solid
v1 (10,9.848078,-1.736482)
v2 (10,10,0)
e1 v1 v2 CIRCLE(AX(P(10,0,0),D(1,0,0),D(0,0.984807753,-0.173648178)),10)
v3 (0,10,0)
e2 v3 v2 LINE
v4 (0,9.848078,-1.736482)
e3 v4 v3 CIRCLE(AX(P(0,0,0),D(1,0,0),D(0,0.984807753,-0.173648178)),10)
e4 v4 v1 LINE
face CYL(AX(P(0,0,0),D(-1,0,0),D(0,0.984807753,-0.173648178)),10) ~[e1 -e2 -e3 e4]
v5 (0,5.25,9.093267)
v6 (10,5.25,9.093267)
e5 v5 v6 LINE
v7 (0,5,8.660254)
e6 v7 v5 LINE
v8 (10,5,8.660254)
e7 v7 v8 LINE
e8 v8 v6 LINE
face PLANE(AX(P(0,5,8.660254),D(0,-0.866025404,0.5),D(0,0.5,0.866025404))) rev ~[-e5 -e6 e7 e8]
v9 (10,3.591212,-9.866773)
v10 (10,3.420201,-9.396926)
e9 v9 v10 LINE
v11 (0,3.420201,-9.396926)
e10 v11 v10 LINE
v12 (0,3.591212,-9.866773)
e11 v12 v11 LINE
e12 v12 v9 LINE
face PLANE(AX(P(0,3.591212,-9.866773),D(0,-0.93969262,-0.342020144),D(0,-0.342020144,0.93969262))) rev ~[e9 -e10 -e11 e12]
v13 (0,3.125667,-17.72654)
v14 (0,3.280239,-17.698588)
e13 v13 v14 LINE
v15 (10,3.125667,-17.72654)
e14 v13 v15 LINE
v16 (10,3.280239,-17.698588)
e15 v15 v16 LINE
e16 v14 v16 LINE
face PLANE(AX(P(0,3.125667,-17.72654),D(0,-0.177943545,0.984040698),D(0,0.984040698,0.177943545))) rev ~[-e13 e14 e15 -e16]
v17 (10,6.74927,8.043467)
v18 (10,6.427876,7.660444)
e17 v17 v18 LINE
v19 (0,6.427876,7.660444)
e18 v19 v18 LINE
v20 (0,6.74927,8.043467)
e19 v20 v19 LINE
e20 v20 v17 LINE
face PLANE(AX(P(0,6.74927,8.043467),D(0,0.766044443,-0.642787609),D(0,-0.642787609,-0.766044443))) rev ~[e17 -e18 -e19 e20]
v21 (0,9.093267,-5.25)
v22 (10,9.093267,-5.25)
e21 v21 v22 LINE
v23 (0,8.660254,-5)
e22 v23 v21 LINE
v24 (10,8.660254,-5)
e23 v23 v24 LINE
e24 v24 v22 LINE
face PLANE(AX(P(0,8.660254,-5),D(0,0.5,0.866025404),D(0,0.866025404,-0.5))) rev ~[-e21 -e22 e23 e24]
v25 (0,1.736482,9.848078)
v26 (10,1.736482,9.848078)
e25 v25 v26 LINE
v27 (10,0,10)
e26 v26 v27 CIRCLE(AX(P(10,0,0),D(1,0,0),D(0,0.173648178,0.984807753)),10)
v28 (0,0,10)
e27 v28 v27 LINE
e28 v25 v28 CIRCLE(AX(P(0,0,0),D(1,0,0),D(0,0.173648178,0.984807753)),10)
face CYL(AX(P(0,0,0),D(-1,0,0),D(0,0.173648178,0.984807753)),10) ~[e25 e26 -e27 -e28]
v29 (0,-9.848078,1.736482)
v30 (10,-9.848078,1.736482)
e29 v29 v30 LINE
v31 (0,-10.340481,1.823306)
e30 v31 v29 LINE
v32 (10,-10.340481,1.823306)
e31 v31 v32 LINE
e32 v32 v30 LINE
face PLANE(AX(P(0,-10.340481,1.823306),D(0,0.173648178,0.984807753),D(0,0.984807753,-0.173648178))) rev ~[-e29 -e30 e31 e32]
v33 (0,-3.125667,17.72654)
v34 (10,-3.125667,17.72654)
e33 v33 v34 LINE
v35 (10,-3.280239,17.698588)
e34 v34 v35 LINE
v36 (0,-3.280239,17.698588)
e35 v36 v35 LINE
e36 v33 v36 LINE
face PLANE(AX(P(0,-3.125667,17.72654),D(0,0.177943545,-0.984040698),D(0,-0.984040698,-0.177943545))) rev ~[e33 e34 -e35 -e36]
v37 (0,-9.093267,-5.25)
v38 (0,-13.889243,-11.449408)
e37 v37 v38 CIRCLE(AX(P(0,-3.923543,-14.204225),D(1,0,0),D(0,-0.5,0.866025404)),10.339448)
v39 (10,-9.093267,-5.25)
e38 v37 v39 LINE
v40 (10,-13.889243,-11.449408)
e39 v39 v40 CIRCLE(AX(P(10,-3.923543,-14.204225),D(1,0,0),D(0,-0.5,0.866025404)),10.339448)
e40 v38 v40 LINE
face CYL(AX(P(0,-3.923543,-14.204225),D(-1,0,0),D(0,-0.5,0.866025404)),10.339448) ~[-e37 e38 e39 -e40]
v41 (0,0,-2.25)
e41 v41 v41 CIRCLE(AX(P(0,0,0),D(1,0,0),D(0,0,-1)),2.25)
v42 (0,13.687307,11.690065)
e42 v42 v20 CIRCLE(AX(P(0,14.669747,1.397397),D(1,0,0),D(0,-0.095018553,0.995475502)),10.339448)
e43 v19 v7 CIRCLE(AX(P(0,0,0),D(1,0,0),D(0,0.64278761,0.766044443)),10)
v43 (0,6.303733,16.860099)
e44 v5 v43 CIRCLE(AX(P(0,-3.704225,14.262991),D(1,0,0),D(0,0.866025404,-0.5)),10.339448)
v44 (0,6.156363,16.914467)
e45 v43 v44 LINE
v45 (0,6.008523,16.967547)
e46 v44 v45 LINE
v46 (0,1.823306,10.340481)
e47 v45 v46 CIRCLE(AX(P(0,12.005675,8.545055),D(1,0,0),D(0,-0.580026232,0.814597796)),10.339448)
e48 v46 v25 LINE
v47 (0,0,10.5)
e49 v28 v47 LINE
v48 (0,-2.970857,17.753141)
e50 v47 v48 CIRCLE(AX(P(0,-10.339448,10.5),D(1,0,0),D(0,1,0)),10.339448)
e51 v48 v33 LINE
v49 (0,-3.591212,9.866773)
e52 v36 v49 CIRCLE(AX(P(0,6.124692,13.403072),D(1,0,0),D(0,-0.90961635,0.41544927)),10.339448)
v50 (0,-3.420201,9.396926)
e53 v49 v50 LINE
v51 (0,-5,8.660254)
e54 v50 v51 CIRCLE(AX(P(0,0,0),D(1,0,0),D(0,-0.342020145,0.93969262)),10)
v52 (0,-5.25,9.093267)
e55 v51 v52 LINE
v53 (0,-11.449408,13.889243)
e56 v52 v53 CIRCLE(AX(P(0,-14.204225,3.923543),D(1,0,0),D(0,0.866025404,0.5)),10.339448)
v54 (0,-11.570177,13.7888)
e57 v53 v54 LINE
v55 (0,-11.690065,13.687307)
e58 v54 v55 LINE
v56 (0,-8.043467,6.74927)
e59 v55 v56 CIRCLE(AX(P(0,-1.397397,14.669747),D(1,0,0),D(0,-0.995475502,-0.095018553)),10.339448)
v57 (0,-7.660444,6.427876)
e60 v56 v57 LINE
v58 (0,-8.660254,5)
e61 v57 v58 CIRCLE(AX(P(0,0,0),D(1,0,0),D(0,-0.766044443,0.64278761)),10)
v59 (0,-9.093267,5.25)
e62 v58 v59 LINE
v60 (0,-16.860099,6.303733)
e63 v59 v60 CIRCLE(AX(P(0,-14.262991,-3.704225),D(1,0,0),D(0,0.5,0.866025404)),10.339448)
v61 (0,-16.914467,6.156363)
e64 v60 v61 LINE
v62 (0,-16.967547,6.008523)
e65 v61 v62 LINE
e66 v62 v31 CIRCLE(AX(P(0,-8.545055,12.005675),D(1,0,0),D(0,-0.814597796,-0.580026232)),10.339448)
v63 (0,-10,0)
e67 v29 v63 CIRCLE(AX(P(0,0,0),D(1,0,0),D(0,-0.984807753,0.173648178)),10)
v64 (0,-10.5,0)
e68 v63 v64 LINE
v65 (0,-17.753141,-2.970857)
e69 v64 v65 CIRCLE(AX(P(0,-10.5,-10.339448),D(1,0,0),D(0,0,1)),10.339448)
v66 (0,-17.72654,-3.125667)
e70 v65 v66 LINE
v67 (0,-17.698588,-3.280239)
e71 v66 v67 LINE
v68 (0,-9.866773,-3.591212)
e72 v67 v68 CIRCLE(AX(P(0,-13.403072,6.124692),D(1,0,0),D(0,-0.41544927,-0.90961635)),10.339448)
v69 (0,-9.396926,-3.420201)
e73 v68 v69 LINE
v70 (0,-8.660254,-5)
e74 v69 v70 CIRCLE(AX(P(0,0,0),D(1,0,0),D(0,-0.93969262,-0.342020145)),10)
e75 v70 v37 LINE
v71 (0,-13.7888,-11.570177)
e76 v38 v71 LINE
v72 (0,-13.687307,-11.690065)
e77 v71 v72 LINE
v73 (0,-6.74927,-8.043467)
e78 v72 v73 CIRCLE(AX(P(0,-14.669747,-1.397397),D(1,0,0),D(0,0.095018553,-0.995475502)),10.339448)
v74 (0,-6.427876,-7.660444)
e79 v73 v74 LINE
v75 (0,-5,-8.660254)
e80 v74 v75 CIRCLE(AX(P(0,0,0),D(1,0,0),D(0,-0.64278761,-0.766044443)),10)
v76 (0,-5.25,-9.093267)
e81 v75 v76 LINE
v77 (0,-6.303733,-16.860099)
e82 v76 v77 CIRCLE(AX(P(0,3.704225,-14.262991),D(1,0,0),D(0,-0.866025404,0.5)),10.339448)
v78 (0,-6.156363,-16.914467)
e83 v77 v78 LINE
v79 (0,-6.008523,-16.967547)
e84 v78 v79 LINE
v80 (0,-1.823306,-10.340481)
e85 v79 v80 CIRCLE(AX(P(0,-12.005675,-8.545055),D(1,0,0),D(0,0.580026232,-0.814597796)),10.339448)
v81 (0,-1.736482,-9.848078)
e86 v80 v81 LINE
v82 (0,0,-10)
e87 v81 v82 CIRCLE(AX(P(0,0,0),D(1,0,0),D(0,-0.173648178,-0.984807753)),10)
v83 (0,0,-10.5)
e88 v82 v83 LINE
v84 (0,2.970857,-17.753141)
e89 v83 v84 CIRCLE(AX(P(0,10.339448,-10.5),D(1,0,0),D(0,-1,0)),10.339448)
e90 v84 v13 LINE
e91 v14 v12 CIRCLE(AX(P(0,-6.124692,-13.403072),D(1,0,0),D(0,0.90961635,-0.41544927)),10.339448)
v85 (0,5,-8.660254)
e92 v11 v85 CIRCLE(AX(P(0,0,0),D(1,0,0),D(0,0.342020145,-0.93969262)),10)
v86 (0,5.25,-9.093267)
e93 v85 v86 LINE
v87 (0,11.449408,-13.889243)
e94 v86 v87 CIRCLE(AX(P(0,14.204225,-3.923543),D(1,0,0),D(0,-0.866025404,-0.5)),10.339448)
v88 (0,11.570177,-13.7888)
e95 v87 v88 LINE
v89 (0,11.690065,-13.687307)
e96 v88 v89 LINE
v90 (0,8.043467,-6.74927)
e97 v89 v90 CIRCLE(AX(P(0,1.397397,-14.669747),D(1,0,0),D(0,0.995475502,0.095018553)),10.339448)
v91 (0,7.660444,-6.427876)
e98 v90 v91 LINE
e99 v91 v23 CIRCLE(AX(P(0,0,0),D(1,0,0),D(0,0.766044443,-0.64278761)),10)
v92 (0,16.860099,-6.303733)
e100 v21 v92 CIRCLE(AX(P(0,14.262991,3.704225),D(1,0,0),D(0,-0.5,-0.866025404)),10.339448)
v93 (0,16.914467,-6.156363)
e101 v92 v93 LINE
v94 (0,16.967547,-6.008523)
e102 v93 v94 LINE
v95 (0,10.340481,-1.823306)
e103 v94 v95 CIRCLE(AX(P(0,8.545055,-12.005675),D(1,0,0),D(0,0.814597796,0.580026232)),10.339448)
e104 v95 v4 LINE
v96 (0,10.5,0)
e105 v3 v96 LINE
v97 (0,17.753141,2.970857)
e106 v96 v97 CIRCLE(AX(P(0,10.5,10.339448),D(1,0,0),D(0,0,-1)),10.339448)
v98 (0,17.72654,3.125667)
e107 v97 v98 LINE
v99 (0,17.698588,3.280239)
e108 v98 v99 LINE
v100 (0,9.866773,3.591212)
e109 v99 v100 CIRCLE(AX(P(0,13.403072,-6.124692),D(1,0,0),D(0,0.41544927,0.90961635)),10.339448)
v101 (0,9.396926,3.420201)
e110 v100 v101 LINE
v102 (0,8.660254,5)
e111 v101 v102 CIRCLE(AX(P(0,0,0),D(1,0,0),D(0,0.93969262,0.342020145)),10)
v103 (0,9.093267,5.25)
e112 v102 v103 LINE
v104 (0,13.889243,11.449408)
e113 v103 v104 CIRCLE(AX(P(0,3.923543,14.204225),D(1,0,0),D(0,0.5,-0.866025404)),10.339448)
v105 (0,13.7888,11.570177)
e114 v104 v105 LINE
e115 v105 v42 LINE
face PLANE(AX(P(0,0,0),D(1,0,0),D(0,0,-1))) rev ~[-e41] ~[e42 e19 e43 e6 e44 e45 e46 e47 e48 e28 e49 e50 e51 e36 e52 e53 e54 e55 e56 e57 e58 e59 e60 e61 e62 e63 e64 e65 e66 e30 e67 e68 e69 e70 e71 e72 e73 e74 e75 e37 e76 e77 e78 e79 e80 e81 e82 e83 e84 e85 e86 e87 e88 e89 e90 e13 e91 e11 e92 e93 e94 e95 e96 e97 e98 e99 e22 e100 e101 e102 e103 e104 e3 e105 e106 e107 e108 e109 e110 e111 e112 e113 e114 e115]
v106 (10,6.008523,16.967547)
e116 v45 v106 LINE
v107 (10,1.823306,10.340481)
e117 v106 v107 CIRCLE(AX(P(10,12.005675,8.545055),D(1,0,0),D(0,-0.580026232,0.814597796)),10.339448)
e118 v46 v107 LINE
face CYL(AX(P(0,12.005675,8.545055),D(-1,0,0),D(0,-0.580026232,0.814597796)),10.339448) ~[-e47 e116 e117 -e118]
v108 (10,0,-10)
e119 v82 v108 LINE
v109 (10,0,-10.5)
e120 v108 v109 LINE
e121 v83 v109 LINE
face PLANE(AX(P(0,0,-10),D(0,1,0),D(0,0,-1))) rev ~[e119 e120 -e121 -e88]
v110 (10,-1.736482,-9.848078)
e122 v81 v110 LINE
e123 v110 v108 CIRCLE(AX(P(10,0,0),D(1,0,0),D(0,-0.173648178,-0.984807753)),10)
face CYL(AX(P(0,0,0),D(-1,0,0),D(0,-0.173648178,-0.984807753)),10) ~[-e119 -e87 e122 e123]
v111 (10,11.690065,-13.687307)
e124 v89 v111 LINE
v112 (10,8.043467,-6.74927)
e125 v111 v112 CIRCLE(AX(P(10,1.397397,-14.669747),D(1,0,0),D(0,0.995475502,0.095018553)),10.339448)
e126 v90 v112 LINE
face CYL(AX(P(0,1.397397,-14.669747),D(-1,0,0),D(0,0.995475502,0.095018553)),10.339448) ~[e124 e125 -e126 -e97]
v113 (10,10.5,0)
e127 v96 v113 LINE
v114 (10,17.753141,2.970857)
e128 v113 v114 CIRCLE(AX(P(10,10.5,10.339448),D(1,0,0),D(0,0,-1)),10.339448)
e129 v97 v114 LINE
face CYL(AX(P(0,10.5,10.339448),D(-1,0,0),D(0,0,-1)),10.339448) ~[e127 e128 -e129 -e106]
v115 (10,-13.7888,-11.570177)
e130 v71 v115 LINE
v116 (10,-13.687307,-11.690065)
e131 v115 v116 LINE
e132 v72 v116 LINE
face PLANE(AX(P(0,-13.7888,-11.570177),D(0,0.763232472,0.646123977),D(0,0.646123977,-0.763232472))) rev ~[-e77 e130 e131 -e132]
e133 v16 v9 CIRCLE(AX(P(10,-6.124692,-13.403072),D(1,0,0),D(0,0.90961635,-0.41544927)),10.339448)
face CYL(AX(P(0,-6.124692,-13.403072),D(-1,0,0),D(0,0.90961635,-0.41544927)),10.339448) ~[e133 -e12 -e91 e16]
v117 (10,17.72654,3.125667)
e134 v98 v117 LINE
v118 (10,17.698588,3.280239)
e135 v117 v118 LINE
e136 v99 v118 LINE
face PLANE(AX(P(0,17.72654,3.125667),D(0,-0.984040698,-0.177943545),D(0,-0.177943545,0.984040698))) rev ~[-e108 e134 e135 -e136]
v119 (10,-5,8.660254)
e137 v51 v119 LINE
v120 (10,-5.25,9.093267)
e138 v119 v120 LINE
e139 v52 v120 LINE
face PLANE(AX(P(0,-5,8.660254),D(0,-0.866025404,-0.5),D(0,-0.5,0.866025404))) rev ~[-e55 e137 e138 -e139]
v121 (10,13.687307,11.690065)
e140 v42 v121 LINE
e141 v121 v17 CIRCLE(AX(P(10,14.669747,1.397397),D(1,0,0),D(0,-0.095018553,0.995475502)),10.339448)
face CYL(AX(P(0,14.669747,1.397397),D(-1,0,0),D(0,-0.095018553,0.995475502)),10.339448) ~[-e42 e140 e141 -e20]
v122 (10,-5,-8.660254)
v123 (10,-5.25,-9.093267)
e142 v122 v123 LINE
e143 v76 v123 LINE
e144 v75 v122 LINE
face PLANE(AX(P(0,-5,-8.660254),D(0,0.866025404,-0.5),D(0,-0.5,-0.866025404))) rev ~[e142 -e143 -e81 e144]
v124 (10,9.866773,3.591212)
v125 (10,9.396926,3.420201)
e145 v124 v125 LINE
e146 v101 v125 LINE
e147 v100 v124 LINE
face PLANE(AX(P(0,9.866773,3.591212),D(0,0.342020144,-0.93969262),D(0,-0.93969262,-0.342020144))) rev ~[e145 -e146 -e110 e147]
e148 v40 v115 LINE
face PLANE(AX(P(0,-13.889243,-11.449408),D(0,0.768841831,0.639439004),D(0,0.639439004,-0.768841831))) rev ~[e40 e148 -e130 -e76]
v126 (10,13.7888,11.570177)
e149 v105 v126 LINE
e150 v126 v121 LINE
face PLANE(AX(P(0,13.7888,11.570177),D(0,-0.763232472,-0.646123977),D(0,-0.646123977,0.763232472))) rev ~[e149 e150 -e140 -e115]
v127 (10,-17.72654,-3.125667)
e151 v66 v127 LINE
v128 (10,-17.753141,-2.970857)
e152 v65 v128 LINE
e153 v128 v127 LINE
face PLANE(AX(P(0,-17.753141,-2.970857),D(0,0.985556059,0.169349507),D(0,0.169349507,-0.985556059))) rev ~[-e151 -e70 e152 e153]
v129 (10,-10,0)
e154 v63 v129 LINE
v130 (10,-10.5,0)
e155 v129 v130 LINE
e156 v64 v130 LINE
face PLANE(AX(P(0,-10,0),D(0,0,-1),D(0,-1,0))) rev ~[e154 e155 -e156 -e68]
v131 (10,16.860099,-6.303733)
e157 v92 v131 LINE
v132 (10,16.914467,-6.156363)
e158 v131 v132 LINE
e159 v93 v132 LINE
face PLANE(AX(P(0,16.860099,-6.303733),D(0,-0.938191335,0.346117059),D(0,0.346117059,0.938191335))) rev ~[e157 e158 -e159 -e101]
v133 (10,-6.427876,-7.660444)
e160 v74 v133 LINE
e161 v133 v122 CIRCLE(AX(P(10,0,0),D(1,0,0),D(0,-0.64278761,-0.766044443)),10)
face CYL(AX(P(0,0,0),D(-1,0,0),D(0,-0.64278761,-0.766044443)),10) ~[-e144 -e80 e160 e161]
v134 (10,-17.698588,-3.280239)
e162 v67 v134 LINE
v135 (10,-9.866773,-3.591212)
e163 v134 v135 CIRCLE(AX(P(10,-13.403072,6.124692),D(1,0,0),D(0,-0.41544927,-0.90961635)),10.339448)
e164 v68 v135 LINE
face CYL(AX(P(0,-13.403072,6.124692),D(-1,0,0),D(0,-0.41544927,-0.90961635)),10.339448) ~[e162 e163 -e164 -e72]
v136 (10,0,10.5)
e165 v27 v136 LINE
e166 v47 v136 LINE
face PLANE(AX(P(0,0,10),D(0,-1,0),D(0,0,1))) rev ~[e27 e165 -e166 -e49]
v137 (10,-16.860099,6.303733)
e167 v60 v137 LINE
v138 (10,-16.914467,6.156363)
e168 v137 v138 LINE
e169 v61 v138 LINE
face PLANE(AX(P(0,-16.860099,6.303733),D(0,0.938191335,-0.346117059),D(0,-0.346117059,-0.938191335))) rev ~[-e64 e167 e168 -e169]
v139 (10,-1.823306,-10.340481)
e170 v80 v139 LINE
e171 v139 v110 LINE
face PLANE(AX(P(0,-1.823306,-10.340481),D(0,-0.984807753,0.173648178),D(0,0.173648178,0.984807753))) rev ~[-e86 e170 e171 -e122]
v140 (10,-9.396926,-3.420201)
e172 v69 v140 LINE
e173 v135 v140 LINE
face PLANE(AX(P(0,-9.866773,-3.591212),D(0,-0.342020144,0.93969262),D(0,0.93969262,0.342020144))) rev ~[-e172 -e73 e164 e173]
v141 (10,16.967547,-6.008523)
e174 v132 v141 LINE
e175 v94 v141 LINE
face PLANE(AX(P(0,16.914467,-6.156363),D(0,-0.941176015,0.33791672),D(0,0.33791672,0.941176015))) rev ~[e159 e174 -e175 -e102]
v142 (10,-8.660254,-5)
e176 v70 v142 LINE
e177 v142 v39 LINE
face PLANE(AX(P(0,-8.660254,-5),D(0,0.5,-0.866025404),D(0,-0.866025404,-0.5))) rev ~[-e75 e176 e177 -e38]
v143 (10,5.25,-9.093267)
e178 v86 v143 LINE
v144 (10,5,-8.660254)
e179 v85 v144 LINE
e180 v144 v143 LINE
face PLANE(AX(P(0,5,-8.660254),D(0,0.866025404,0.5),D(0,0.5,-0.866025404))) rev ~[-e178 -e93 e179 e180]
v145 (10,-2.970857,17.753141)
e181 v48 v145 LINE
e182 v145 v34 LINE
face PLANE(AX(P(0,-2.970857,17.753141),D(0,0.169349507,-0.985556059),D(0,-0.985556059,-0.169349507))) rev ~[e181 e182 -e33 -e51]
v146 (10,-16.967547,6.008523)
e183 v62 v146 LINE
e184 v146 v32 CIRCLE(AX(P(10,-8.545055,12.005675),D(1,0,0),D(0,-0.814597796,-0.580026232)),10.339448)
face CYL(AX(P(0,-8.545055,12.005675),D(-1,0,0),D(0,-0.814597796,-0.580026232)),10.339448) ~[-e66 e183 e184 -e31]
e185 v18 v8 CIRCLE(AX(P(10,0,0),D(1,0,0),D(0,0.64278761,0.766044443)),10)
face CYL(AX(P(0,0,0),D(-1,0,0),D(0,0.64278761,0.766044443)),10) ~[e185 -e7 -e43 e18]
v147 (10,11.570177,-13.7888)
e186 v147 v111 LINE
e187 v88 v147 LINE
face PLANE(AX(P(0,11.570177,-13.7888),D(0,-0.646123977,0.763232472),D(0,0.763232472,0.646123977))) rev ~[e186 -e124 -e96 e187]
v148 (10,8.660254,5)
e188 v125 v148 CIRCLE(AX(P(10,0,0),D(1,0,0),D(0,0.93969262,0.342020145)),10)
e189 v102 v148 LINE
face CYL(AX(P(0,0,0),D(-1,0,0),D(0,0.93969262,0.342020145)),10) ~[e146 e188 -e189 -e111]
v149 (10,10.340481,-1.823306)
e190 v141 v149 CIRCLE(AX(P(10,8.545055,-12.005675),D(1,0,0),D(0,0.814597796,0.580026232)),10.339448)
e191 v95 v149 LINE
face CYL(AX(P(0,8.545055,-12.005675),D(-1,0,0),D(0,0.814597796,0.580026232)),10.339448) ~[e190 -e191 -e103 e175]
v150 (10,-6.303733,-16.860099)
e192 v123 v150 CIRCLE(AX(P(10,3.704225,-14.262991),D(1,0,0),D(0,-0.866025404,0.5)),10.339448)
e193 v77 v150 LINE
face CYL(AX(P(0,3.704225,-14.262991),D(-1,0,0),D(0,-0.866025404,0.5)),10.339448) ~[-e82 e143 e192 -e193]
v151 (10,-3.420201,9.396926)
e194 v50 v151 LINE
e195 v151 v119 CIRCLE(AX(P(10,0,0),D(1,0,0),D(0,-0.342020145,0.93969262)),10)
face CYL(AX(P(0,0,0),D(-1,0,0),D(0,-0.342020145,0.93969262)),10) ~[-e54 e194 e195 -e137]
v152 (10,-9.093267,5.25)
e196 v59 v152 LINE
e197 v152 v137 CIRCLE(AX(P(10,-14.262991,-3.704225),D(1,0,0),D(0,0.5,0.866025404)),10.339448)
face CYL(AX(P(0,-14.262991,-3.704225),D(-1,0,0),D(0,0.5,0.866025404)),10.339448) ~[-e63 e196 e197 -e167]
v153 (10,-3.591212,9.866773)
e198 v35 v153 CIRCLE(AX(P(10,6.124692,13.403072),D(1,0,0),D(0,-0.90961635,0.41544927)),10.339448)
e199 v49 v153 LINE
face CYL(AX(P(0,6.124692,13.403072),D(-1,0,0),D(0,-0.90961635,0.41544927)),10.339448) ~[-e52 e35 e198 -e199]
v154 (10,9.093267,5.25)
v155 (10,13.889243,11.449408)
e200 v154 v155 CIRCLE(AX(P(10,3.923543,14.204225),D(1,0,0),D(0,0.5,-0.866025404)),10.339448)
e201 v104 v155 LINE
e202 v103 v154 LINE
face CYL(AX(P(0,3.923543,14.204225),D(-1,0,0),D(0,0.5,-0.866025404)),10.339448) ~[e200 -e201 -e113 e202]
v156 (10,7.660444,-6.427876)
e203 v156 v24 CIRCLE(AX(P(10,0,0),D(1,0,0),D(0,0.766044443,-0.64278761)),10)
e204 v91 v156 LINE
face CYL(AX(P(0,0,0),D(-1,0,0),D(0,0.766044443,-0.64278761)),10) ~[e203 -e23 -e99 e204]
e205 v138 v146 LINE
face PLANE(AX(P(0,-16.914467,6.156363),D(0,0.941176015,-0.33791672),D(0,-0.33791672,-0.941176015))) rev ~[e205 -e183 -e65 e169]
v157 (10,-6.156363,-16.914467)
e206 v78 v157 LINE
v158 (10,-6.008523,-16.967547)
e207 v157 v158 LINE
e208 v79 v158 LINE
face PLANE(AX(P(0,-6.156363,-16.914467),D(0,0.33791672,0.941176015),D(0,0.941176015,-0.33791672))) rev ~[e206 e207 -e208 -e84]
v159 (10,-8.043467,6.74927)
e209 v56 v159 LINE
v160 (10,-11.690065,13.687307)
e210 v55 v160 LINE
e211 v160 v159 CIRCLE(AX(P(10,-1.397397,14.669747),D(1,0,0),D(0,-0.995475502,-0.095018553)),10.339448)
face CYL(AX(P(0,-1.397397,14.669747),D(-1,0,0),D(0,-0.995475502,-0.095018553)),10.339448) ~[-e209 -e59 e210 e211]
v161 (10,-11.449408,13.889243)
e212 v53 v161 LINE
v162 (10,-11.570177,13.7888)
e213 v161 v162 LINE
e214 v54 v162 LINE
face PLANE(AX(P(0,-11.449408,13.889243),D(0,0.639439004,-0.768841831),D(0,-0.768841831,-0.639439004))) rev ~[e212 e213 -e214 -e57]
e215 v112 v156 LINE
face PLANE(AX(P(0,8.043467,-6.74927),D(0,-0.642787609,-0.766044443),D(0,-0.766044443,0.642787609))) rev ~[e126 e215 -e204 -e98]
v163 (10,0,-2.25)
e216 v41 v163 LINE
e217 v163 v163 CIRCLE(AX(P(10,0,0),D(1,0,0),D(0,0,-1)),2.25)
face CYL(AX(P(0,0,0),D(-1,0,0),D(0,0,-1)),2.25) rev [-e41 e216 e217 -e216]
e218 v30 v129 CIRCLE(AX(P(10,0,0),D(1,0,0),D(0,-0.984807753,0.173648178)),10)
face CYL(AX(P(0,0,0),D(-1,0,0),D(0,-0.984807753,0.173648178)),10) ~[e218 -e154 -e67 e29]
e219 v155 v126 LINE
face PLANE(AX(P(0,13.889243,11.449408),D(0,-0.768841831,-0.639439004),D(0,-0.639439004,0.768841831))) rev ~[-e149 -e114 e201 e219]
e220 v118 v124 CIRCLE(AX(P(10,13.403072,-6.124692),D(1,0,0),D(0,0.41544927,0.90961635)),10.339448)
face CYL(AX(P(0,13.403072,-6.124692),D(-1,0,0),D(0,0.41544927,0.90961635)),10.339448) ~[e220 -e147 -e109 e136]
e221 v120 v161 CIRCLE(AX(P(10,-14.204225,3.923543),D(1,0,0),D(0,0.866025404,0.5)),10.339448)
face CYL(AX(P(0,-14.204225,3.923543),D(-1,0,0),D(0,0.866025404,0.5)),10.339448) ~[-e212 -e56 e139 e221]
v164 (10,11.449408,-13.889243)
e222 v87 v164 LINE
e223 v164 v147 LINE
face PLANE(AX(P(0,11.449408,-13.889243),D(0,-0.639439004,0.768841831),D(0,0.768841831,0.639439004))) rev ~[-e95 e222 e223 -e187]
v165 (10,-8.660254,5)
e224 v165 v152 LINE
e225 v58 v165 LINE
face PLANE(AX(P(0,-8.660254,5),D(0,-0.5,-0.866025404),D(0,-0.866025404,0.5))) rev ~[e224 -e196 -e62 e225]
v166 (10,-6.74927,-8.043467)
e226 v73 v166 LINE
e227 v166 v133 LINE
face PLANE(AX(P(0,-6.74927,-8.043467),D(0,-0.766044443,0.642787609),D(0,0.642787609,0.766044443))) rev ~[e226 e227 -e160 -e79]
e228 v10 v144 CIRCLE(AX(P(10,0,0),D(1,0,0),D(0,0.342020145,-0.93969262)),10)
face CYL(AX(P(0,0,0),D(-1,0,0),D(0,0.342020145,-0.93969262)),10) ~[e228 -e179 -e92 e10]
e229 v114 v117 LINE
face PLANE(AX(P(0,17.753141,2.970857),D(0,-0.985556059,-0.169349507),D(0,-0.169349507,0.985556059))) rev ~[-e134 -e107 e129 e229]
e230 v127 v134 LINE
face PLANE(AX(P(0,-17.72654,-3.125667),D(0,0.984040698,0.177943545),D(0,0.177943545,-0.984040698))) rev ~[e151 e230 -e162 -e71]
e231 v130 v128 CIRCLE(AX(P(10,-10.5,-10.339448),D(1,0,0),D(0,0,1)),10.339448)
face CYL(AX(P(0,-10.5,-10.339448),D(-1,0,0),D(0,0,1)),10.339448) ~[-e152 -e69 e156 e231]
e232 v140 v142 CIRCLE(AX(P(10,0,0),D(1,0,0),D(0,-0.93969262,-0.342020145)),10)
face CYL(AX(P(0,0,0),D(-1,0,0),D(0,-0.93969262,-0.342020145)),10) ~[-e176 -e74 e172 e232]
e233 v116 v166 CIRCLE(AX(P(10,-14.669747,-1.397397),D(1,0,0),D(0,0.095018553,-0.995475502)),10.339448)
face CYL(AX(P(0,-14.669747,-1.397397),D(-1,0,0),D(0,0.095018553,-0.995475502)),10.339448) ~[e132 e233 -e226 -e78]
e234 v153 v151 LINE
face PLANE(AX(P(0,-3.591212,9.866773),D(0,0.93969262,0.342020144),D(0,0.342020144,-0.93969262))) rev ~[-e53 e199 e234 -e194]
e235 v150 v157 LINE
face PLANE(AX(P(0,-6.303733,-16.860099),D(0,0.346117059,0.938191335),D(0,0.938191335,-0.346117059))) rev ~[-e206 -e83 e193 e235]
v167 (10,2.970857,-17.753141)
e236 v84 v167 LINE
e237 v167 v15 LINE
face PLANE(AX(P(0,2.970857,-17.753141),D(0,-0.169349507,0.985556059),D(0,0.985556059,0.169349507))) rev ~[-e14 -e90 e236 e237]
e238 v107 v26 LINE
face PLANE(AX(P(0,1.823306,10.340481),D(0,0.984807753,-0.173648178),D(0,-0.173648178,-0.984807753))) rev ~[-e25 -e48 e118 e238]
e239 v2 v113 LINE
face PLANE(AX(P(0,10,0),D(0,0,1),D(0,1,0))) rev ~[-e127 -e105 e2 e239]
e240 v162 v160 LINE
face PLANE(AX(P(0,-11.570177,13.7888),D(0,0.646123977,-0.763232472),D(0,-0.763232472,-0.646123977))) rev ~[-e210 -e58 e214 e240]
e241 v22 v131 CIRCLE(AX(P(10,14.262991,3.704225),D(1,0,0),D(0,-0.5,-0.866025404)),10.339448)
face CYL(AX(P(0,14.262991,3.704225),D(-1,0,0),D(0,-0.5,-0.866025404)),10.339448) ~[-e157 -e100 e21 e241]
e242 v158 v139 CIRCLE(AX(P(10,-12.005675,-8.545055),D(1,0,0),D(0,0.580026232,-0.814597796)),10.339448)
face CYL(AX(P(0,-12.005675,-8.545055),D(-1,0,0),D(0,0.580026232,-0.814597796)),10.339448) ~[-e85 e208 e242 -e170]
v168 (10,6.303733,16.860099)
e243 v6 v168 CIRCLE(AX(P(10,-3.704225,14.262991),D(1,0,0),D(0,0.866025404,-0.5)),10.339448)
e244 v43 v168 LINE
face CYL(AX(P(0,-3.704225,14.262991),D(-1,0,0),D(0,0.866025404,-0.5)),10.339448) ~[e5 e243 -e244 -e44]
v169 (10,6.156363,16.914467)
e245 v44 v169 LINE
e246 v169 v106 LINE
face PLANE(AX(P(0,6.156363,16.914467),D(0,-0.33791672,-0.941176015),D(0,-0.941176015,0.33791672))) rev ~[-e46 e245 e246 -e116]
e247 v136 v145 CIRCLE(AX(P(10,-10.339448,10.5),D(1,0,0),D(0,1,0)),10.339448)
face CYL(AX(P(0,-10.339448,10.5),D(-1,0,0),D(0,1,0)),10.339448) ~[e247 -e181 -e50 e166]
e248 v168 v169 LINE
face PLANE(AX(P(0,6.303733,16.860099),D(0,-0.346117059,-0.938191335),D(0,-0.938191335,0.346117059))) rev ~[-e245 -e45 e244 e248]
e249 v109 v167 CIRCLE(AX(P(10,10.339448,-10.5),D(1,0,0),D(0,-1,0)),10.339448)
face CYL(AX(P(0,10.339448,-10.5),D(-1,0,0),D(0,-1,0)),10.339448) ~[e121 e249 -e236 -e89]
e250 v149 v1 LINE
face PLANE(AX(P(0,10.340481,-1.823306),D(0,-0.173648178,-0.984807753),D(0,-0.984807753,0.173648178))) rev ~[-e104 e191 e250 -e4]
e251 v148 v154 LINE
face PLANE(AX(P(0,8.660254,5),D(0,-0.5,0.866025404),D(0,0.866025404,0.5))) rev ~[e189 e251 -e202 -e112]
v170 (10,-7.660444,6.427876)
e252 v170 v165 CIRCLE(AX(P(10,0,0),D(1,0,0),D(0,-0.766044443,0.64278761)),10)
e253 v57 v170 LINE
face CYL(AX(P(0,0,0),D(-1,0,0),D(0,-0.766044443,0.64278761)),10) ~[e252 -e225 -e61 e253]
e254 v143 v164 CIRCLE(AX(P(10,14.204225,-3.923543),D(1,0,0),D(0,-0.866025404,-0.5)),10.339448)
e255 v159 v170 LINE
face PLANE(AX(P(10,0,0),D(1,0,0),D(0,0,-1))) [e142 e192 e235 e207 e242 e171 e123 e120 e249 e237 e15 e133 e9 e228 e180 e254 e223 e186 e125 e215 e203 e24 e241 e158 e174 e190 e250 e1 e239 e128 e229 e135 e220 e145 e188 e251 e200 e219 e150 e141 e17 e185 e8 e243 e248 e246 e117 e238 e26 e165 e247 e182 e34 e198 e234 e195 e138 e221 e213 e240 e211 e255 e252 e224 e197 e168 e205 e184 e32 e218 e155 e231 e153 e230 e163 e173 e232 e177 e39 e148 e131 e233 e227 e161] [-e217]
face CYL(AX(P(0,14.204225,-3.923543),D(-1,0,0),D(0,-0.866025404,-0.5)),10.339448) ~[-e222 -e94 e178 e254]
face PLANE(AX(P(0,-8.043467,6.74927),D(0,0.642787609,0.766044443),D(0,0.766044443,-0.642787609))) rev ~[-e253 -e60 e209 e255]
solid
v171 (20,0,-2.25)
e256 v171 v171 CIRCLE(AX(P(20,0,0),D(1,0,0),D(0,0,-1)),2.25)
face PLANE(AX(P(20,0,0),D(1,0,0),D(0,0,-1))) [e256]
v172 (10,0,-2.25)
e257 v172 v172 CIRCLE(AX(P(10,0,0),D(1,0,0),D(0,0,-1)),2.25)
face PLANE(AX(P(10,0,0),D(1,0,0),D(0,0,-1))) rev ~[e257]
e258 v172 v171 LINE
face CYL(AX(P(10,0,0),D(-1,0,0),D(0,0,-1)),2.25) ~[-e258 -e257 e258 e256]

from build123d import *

# Parameters (mm, degrees)
SKETCH1_R           = 2.25
BOSS_EXTRUDE2_DEPTH = 10
SKETCH2_R           = 2.25
BOSS_EXTRUDE3_DEPTH = 10


with BuildPart() as part:
    # Sketch1 → Boss-Extrude2 (new body)
    with BuildSketch(Plane(origin=(0, 0, 0), x_dir=(0, 0, -1), z_dir=(1, 0, 0))):
        with BuildLine():
            Line((9.866772518, 3.591211505), (9.396926208, 3.420201433))
            ThreePointArc((9.396926208, 3.420201433), (9.06307787, 4.226182617), (8.660254038, 5))
            Line((8.660254038, 5), (9.09326674, 5.25))
            ThreePointArc((9.09326674, 5.25), (12.101465931, 7.877633315), (13.889242501, 11.449407965))
            Line((13.889242501, 11.449407965), (13.788799976, 11.570176974))
            Line((13.788799976, 11.570176974), (13.687307381, 11.69006487))
            ThreePointArc((13.687307381, 11.69006487), (9.85935187, 10.549680802), (6.749269902, 8.043466653))
            Line((6.749269902, 8.043466653), (6.427876097, 7.660444431))
            ThreePointArc((6.427876097, 7.660444431), (5.735764364, 8.191520443), (5, 8.660254038))
            Line((5, 8.660254038), (5.25, 9.09326674))
            ThreePointArc((5.25, 9.09326674), (6.541360261, 12.872963538), (6.303732863, 16.860099406))
            Line((6.303732863, 16.860099406), (6.15636258, 16.914467174))
            Line((6.15636258, 16.914467174), (6.008523466, 16.96754684))
            ThreePointArc((6.008523466, 16.96754684), (3.263608784, 14.065967511), (1.823305866, 10.340481407))
            Line((1.823305866, 10.340481407), (1.736481777, 9.84807753))
            ThreePointArc((1.736481777, 9.84807753), (0.871557427, 9.961946981), (0, 10))
            Line((0, 10), (0, 10.5))
            ThreePointArc((0, 10.5), (-0.771497607, 14.418993577), (-2.970856905, 17.753140828))
            Line((-2.970856905, 17.753140828), (-3.125667198, 17.726539554))
            Line((-3.125667198, 17.726539554), (-3.280239459, 17.698588336))
            ThreePointArc((-3.280239459, 17.698588336), (-4.206615641, 13.813289585), (-3.591211505, 9.866772518))
            Line((-3.591211505, 9.866772518), (-3.420201433, 9.396926208))
            ThreePointArc((-3.420201433, 9.396926208), (-4.226182617, 9.06307787), (-5, 8.660254038))
            Line((-5, 8.660254038), (-5.25, 9.09326674))
            ThreePointArc((-5.25, 9.09326674), (-7.877633315, 12.101465931), (-11.449407965, 13.889242501))
            Line((-11.449407965, 13.889242501), (-11.570176974, 13.788799976))
            Line((-11.570176974, 13.788799976), (-11.69006487, 13.687307381))
            ThreePointArc((-11.69006487, 13.687307381), (-10.549680802, 9.85935187), (-8.043466653, 6.749269902))
            Line((-8.043466653, 6.749269902), (-7.660444431, 6.427876097))
            ThreePointArc((-7.660444431, 6.427876097), (-8.191520443, 5.735764364), (-8.660254038, 5))
            Line((-8.660254038, 5), (-9.09326674, 5.25))
            ThreePointArc((-9.09326674, 5.25), (-12.872963538, 6.541360261), (-16.860099406, 6.303732863))
            Line((-16.860099406, 6.303732863), (-16.914467174, 6.15636258))
            Line((-16.914467174, 6.15636258), (-16.96754684, 6.008523466))
            ThreePointArc((-16.96754684, 6.008523466), (-14.065967511, 3.263608784), (-10.340481407, 1.823305866))
            Line((-10.340481407, 1.823305866), (-9.84807753, 1.736481777))
            ThreePointArc((-9.84807753, 1.736481777), (-9.961946981, 0.871557427), (-10, 0))
            Line((-10, 0), (-10.5, 0))
            ThreePointArc((-10.5, 0), (-14.418993577, -0.771497607), (-17.753140828, -2.970856905))
            Line((-17.753140828, -2.970856905), (-17.726539554, -3.125667198))
            Line((-17.726539554, -3.125667198), (-17.698588336, -3.280239459))
            ThreePointArc((-17.698588336, -3.280239459), (-13.813289585, -4.206615641), (-9.866772518, -3.591211505))
            Line((-9.866772518, -3.591211505), (-9.396926208, -3.420201433))
            ThreePointArc((-9.396926208, -3.420201433), (-9.06307787, -4.226182617), (-8.660254038, -5))
            Line((-8.660254038, -5), (-9.09326674, -5.25))
            ThreePointArc((-9.09326674, -5.25), (-12.101465931, -7.877633315), (-13.889242501, -11.449407965))
            Line((-13.889242501, -11.449407965), (-13.788799976, -11.570176974))
            Line((-13.788799976, -11.570176974), (-13.687307381, -11.69006487))
            ThreePointArc((-13.687307381, -11.69006487), (-9.85935187, -10.549680802), (-6.749269902, -8.043466653))
            Line((-6.749269902, -8.043466653), (-6.427876097, -7.660444431))
            ThreePointArc((-6.427876097, -7.660444431), (-5.735764364, -8.191520443), (-5, -8.660254038))
            Line((-5, -8.660254038), (-5.25, -9.09326674))
            ThreePointArc((-5.25, -9.09326674), (-6.541360261, -12.872963538), (-6.303732863, -16.860099406))
            Line((-6.303732863, -16.860099406), (-6.15636258, -16.914467174))
            Line((-6.15636258, -16.914467174), (-6.008523466, -16.96754684))
            ThreePointArc((-6.008523466, -16.96754684), (-3.263608784, -14.065967511), (-1.823305866, -10.340481407))
            Line((-1.823305866, -10.340481407), (-1.736481777, -9.84807753))
            ThreePointArc((-1.736481777, -9.84807753), (-0.871557427, -9.961946981), (0, -10))
            Line((0, -10), (0, -10.5))
            ThreePointArc((0, -10.5), (0.771497607, -14.418993577), (2.970856905, -17.753140828))
            Line((2.970856905, -17.753140828), (3.125667198, -17.726539554))
            Line((3.125667198, -17.726539554), (3.280239459, -17.698588336))
            ThreePointArc((3.280239459, -17.698588336), (4.206615641, -13.813289585), (3.591211505, -9.866772518))
            Line((3.591211505, -9.866772518), (3.420201433, -9.396926208))
            ThreePointArc((3.420201433, -9.396926208), (4.226182617, -9.06307787), (5, -8.660254038))
            Line((5, -8.660254038), (5.25, -9.09326674))
            ThreePointArc((5.25, -9.09326674), (7.877633315, -12.101465931), (11.449407965, -13.889242501))
            Line((11.449407965, -13.889242501), (11.570176974, -13.788799976))
            Line((11.570176974, -13.788799976), (11.69006487, -13.687307381))
            ThreePointArc((11.69006487, -13.687307381), (10.549680802, -9.85935187), (8.043466653, -6.749269902))
            Line((8.043466653, -6.749269902), (7.660444431, -6.427876097))
            ThreePointArc((7.660444431, -6.427876097), (8.191520443, -5.735764364), (8.660254038, -5))
            Line((8.660254038, -5), (9.09326674, -5.25))
            ThreePointArc((9.09326674, -5.25), (12.872963538, -6.541360261), (16.860099406, -6.303732863))
            Line((16.860099406, -6.303732863), (16.914467174, -6.15636258))
            Line((16.914467174, -6.15636258), (16.96754684, -6.008523466))
            ThreePointArc((16.96754684, -6.008523466), (14.065967511, -3.263608784), (10.340481407, -1.823305866))
            Line((10.340481407, -1.823305866), (9.84807753, -1.736481777))
            ThreePointArc((9.84807753, -1.736481777), (9.961946981, -0.871557427), (10, 0))
            Line((10, 0), (10.5, 0))
            ThreePointArc((10.5, 0), (14.418993577, 0.771497607), (17.753140828, 2.970856905))
            Line((17.753140828, 2.970856905), (17.726539554, 3.125667198))
            Line((17.726539554, 3.125667198), (17.698588336, 3.280239459))
            ThreePointArc((17.698588336, 3.280239459), (13.813289585, 4.206615641), (9.866772518, 3.591211505))
        make_face()
        Circle(SKETCH1_R, mode=Mode.SUBTRACT)
    extrude(amount=BOSS_EXTRUDE2_DEPTH)


with BuildPart() as body_2:
    # Sketch2 → Boss-Extrude3 (new body)
    with BuildSketch(Plane(origin=(10, 0, 0), x_dir=(0, 0, -1), z_dir=(1, 0, 0))):
        Circle(SKETCH2_R)
    extrude(amount=BOSS_EXTRUDE3_DEPTH)


solid = Compound([part.part, body_2.part])
